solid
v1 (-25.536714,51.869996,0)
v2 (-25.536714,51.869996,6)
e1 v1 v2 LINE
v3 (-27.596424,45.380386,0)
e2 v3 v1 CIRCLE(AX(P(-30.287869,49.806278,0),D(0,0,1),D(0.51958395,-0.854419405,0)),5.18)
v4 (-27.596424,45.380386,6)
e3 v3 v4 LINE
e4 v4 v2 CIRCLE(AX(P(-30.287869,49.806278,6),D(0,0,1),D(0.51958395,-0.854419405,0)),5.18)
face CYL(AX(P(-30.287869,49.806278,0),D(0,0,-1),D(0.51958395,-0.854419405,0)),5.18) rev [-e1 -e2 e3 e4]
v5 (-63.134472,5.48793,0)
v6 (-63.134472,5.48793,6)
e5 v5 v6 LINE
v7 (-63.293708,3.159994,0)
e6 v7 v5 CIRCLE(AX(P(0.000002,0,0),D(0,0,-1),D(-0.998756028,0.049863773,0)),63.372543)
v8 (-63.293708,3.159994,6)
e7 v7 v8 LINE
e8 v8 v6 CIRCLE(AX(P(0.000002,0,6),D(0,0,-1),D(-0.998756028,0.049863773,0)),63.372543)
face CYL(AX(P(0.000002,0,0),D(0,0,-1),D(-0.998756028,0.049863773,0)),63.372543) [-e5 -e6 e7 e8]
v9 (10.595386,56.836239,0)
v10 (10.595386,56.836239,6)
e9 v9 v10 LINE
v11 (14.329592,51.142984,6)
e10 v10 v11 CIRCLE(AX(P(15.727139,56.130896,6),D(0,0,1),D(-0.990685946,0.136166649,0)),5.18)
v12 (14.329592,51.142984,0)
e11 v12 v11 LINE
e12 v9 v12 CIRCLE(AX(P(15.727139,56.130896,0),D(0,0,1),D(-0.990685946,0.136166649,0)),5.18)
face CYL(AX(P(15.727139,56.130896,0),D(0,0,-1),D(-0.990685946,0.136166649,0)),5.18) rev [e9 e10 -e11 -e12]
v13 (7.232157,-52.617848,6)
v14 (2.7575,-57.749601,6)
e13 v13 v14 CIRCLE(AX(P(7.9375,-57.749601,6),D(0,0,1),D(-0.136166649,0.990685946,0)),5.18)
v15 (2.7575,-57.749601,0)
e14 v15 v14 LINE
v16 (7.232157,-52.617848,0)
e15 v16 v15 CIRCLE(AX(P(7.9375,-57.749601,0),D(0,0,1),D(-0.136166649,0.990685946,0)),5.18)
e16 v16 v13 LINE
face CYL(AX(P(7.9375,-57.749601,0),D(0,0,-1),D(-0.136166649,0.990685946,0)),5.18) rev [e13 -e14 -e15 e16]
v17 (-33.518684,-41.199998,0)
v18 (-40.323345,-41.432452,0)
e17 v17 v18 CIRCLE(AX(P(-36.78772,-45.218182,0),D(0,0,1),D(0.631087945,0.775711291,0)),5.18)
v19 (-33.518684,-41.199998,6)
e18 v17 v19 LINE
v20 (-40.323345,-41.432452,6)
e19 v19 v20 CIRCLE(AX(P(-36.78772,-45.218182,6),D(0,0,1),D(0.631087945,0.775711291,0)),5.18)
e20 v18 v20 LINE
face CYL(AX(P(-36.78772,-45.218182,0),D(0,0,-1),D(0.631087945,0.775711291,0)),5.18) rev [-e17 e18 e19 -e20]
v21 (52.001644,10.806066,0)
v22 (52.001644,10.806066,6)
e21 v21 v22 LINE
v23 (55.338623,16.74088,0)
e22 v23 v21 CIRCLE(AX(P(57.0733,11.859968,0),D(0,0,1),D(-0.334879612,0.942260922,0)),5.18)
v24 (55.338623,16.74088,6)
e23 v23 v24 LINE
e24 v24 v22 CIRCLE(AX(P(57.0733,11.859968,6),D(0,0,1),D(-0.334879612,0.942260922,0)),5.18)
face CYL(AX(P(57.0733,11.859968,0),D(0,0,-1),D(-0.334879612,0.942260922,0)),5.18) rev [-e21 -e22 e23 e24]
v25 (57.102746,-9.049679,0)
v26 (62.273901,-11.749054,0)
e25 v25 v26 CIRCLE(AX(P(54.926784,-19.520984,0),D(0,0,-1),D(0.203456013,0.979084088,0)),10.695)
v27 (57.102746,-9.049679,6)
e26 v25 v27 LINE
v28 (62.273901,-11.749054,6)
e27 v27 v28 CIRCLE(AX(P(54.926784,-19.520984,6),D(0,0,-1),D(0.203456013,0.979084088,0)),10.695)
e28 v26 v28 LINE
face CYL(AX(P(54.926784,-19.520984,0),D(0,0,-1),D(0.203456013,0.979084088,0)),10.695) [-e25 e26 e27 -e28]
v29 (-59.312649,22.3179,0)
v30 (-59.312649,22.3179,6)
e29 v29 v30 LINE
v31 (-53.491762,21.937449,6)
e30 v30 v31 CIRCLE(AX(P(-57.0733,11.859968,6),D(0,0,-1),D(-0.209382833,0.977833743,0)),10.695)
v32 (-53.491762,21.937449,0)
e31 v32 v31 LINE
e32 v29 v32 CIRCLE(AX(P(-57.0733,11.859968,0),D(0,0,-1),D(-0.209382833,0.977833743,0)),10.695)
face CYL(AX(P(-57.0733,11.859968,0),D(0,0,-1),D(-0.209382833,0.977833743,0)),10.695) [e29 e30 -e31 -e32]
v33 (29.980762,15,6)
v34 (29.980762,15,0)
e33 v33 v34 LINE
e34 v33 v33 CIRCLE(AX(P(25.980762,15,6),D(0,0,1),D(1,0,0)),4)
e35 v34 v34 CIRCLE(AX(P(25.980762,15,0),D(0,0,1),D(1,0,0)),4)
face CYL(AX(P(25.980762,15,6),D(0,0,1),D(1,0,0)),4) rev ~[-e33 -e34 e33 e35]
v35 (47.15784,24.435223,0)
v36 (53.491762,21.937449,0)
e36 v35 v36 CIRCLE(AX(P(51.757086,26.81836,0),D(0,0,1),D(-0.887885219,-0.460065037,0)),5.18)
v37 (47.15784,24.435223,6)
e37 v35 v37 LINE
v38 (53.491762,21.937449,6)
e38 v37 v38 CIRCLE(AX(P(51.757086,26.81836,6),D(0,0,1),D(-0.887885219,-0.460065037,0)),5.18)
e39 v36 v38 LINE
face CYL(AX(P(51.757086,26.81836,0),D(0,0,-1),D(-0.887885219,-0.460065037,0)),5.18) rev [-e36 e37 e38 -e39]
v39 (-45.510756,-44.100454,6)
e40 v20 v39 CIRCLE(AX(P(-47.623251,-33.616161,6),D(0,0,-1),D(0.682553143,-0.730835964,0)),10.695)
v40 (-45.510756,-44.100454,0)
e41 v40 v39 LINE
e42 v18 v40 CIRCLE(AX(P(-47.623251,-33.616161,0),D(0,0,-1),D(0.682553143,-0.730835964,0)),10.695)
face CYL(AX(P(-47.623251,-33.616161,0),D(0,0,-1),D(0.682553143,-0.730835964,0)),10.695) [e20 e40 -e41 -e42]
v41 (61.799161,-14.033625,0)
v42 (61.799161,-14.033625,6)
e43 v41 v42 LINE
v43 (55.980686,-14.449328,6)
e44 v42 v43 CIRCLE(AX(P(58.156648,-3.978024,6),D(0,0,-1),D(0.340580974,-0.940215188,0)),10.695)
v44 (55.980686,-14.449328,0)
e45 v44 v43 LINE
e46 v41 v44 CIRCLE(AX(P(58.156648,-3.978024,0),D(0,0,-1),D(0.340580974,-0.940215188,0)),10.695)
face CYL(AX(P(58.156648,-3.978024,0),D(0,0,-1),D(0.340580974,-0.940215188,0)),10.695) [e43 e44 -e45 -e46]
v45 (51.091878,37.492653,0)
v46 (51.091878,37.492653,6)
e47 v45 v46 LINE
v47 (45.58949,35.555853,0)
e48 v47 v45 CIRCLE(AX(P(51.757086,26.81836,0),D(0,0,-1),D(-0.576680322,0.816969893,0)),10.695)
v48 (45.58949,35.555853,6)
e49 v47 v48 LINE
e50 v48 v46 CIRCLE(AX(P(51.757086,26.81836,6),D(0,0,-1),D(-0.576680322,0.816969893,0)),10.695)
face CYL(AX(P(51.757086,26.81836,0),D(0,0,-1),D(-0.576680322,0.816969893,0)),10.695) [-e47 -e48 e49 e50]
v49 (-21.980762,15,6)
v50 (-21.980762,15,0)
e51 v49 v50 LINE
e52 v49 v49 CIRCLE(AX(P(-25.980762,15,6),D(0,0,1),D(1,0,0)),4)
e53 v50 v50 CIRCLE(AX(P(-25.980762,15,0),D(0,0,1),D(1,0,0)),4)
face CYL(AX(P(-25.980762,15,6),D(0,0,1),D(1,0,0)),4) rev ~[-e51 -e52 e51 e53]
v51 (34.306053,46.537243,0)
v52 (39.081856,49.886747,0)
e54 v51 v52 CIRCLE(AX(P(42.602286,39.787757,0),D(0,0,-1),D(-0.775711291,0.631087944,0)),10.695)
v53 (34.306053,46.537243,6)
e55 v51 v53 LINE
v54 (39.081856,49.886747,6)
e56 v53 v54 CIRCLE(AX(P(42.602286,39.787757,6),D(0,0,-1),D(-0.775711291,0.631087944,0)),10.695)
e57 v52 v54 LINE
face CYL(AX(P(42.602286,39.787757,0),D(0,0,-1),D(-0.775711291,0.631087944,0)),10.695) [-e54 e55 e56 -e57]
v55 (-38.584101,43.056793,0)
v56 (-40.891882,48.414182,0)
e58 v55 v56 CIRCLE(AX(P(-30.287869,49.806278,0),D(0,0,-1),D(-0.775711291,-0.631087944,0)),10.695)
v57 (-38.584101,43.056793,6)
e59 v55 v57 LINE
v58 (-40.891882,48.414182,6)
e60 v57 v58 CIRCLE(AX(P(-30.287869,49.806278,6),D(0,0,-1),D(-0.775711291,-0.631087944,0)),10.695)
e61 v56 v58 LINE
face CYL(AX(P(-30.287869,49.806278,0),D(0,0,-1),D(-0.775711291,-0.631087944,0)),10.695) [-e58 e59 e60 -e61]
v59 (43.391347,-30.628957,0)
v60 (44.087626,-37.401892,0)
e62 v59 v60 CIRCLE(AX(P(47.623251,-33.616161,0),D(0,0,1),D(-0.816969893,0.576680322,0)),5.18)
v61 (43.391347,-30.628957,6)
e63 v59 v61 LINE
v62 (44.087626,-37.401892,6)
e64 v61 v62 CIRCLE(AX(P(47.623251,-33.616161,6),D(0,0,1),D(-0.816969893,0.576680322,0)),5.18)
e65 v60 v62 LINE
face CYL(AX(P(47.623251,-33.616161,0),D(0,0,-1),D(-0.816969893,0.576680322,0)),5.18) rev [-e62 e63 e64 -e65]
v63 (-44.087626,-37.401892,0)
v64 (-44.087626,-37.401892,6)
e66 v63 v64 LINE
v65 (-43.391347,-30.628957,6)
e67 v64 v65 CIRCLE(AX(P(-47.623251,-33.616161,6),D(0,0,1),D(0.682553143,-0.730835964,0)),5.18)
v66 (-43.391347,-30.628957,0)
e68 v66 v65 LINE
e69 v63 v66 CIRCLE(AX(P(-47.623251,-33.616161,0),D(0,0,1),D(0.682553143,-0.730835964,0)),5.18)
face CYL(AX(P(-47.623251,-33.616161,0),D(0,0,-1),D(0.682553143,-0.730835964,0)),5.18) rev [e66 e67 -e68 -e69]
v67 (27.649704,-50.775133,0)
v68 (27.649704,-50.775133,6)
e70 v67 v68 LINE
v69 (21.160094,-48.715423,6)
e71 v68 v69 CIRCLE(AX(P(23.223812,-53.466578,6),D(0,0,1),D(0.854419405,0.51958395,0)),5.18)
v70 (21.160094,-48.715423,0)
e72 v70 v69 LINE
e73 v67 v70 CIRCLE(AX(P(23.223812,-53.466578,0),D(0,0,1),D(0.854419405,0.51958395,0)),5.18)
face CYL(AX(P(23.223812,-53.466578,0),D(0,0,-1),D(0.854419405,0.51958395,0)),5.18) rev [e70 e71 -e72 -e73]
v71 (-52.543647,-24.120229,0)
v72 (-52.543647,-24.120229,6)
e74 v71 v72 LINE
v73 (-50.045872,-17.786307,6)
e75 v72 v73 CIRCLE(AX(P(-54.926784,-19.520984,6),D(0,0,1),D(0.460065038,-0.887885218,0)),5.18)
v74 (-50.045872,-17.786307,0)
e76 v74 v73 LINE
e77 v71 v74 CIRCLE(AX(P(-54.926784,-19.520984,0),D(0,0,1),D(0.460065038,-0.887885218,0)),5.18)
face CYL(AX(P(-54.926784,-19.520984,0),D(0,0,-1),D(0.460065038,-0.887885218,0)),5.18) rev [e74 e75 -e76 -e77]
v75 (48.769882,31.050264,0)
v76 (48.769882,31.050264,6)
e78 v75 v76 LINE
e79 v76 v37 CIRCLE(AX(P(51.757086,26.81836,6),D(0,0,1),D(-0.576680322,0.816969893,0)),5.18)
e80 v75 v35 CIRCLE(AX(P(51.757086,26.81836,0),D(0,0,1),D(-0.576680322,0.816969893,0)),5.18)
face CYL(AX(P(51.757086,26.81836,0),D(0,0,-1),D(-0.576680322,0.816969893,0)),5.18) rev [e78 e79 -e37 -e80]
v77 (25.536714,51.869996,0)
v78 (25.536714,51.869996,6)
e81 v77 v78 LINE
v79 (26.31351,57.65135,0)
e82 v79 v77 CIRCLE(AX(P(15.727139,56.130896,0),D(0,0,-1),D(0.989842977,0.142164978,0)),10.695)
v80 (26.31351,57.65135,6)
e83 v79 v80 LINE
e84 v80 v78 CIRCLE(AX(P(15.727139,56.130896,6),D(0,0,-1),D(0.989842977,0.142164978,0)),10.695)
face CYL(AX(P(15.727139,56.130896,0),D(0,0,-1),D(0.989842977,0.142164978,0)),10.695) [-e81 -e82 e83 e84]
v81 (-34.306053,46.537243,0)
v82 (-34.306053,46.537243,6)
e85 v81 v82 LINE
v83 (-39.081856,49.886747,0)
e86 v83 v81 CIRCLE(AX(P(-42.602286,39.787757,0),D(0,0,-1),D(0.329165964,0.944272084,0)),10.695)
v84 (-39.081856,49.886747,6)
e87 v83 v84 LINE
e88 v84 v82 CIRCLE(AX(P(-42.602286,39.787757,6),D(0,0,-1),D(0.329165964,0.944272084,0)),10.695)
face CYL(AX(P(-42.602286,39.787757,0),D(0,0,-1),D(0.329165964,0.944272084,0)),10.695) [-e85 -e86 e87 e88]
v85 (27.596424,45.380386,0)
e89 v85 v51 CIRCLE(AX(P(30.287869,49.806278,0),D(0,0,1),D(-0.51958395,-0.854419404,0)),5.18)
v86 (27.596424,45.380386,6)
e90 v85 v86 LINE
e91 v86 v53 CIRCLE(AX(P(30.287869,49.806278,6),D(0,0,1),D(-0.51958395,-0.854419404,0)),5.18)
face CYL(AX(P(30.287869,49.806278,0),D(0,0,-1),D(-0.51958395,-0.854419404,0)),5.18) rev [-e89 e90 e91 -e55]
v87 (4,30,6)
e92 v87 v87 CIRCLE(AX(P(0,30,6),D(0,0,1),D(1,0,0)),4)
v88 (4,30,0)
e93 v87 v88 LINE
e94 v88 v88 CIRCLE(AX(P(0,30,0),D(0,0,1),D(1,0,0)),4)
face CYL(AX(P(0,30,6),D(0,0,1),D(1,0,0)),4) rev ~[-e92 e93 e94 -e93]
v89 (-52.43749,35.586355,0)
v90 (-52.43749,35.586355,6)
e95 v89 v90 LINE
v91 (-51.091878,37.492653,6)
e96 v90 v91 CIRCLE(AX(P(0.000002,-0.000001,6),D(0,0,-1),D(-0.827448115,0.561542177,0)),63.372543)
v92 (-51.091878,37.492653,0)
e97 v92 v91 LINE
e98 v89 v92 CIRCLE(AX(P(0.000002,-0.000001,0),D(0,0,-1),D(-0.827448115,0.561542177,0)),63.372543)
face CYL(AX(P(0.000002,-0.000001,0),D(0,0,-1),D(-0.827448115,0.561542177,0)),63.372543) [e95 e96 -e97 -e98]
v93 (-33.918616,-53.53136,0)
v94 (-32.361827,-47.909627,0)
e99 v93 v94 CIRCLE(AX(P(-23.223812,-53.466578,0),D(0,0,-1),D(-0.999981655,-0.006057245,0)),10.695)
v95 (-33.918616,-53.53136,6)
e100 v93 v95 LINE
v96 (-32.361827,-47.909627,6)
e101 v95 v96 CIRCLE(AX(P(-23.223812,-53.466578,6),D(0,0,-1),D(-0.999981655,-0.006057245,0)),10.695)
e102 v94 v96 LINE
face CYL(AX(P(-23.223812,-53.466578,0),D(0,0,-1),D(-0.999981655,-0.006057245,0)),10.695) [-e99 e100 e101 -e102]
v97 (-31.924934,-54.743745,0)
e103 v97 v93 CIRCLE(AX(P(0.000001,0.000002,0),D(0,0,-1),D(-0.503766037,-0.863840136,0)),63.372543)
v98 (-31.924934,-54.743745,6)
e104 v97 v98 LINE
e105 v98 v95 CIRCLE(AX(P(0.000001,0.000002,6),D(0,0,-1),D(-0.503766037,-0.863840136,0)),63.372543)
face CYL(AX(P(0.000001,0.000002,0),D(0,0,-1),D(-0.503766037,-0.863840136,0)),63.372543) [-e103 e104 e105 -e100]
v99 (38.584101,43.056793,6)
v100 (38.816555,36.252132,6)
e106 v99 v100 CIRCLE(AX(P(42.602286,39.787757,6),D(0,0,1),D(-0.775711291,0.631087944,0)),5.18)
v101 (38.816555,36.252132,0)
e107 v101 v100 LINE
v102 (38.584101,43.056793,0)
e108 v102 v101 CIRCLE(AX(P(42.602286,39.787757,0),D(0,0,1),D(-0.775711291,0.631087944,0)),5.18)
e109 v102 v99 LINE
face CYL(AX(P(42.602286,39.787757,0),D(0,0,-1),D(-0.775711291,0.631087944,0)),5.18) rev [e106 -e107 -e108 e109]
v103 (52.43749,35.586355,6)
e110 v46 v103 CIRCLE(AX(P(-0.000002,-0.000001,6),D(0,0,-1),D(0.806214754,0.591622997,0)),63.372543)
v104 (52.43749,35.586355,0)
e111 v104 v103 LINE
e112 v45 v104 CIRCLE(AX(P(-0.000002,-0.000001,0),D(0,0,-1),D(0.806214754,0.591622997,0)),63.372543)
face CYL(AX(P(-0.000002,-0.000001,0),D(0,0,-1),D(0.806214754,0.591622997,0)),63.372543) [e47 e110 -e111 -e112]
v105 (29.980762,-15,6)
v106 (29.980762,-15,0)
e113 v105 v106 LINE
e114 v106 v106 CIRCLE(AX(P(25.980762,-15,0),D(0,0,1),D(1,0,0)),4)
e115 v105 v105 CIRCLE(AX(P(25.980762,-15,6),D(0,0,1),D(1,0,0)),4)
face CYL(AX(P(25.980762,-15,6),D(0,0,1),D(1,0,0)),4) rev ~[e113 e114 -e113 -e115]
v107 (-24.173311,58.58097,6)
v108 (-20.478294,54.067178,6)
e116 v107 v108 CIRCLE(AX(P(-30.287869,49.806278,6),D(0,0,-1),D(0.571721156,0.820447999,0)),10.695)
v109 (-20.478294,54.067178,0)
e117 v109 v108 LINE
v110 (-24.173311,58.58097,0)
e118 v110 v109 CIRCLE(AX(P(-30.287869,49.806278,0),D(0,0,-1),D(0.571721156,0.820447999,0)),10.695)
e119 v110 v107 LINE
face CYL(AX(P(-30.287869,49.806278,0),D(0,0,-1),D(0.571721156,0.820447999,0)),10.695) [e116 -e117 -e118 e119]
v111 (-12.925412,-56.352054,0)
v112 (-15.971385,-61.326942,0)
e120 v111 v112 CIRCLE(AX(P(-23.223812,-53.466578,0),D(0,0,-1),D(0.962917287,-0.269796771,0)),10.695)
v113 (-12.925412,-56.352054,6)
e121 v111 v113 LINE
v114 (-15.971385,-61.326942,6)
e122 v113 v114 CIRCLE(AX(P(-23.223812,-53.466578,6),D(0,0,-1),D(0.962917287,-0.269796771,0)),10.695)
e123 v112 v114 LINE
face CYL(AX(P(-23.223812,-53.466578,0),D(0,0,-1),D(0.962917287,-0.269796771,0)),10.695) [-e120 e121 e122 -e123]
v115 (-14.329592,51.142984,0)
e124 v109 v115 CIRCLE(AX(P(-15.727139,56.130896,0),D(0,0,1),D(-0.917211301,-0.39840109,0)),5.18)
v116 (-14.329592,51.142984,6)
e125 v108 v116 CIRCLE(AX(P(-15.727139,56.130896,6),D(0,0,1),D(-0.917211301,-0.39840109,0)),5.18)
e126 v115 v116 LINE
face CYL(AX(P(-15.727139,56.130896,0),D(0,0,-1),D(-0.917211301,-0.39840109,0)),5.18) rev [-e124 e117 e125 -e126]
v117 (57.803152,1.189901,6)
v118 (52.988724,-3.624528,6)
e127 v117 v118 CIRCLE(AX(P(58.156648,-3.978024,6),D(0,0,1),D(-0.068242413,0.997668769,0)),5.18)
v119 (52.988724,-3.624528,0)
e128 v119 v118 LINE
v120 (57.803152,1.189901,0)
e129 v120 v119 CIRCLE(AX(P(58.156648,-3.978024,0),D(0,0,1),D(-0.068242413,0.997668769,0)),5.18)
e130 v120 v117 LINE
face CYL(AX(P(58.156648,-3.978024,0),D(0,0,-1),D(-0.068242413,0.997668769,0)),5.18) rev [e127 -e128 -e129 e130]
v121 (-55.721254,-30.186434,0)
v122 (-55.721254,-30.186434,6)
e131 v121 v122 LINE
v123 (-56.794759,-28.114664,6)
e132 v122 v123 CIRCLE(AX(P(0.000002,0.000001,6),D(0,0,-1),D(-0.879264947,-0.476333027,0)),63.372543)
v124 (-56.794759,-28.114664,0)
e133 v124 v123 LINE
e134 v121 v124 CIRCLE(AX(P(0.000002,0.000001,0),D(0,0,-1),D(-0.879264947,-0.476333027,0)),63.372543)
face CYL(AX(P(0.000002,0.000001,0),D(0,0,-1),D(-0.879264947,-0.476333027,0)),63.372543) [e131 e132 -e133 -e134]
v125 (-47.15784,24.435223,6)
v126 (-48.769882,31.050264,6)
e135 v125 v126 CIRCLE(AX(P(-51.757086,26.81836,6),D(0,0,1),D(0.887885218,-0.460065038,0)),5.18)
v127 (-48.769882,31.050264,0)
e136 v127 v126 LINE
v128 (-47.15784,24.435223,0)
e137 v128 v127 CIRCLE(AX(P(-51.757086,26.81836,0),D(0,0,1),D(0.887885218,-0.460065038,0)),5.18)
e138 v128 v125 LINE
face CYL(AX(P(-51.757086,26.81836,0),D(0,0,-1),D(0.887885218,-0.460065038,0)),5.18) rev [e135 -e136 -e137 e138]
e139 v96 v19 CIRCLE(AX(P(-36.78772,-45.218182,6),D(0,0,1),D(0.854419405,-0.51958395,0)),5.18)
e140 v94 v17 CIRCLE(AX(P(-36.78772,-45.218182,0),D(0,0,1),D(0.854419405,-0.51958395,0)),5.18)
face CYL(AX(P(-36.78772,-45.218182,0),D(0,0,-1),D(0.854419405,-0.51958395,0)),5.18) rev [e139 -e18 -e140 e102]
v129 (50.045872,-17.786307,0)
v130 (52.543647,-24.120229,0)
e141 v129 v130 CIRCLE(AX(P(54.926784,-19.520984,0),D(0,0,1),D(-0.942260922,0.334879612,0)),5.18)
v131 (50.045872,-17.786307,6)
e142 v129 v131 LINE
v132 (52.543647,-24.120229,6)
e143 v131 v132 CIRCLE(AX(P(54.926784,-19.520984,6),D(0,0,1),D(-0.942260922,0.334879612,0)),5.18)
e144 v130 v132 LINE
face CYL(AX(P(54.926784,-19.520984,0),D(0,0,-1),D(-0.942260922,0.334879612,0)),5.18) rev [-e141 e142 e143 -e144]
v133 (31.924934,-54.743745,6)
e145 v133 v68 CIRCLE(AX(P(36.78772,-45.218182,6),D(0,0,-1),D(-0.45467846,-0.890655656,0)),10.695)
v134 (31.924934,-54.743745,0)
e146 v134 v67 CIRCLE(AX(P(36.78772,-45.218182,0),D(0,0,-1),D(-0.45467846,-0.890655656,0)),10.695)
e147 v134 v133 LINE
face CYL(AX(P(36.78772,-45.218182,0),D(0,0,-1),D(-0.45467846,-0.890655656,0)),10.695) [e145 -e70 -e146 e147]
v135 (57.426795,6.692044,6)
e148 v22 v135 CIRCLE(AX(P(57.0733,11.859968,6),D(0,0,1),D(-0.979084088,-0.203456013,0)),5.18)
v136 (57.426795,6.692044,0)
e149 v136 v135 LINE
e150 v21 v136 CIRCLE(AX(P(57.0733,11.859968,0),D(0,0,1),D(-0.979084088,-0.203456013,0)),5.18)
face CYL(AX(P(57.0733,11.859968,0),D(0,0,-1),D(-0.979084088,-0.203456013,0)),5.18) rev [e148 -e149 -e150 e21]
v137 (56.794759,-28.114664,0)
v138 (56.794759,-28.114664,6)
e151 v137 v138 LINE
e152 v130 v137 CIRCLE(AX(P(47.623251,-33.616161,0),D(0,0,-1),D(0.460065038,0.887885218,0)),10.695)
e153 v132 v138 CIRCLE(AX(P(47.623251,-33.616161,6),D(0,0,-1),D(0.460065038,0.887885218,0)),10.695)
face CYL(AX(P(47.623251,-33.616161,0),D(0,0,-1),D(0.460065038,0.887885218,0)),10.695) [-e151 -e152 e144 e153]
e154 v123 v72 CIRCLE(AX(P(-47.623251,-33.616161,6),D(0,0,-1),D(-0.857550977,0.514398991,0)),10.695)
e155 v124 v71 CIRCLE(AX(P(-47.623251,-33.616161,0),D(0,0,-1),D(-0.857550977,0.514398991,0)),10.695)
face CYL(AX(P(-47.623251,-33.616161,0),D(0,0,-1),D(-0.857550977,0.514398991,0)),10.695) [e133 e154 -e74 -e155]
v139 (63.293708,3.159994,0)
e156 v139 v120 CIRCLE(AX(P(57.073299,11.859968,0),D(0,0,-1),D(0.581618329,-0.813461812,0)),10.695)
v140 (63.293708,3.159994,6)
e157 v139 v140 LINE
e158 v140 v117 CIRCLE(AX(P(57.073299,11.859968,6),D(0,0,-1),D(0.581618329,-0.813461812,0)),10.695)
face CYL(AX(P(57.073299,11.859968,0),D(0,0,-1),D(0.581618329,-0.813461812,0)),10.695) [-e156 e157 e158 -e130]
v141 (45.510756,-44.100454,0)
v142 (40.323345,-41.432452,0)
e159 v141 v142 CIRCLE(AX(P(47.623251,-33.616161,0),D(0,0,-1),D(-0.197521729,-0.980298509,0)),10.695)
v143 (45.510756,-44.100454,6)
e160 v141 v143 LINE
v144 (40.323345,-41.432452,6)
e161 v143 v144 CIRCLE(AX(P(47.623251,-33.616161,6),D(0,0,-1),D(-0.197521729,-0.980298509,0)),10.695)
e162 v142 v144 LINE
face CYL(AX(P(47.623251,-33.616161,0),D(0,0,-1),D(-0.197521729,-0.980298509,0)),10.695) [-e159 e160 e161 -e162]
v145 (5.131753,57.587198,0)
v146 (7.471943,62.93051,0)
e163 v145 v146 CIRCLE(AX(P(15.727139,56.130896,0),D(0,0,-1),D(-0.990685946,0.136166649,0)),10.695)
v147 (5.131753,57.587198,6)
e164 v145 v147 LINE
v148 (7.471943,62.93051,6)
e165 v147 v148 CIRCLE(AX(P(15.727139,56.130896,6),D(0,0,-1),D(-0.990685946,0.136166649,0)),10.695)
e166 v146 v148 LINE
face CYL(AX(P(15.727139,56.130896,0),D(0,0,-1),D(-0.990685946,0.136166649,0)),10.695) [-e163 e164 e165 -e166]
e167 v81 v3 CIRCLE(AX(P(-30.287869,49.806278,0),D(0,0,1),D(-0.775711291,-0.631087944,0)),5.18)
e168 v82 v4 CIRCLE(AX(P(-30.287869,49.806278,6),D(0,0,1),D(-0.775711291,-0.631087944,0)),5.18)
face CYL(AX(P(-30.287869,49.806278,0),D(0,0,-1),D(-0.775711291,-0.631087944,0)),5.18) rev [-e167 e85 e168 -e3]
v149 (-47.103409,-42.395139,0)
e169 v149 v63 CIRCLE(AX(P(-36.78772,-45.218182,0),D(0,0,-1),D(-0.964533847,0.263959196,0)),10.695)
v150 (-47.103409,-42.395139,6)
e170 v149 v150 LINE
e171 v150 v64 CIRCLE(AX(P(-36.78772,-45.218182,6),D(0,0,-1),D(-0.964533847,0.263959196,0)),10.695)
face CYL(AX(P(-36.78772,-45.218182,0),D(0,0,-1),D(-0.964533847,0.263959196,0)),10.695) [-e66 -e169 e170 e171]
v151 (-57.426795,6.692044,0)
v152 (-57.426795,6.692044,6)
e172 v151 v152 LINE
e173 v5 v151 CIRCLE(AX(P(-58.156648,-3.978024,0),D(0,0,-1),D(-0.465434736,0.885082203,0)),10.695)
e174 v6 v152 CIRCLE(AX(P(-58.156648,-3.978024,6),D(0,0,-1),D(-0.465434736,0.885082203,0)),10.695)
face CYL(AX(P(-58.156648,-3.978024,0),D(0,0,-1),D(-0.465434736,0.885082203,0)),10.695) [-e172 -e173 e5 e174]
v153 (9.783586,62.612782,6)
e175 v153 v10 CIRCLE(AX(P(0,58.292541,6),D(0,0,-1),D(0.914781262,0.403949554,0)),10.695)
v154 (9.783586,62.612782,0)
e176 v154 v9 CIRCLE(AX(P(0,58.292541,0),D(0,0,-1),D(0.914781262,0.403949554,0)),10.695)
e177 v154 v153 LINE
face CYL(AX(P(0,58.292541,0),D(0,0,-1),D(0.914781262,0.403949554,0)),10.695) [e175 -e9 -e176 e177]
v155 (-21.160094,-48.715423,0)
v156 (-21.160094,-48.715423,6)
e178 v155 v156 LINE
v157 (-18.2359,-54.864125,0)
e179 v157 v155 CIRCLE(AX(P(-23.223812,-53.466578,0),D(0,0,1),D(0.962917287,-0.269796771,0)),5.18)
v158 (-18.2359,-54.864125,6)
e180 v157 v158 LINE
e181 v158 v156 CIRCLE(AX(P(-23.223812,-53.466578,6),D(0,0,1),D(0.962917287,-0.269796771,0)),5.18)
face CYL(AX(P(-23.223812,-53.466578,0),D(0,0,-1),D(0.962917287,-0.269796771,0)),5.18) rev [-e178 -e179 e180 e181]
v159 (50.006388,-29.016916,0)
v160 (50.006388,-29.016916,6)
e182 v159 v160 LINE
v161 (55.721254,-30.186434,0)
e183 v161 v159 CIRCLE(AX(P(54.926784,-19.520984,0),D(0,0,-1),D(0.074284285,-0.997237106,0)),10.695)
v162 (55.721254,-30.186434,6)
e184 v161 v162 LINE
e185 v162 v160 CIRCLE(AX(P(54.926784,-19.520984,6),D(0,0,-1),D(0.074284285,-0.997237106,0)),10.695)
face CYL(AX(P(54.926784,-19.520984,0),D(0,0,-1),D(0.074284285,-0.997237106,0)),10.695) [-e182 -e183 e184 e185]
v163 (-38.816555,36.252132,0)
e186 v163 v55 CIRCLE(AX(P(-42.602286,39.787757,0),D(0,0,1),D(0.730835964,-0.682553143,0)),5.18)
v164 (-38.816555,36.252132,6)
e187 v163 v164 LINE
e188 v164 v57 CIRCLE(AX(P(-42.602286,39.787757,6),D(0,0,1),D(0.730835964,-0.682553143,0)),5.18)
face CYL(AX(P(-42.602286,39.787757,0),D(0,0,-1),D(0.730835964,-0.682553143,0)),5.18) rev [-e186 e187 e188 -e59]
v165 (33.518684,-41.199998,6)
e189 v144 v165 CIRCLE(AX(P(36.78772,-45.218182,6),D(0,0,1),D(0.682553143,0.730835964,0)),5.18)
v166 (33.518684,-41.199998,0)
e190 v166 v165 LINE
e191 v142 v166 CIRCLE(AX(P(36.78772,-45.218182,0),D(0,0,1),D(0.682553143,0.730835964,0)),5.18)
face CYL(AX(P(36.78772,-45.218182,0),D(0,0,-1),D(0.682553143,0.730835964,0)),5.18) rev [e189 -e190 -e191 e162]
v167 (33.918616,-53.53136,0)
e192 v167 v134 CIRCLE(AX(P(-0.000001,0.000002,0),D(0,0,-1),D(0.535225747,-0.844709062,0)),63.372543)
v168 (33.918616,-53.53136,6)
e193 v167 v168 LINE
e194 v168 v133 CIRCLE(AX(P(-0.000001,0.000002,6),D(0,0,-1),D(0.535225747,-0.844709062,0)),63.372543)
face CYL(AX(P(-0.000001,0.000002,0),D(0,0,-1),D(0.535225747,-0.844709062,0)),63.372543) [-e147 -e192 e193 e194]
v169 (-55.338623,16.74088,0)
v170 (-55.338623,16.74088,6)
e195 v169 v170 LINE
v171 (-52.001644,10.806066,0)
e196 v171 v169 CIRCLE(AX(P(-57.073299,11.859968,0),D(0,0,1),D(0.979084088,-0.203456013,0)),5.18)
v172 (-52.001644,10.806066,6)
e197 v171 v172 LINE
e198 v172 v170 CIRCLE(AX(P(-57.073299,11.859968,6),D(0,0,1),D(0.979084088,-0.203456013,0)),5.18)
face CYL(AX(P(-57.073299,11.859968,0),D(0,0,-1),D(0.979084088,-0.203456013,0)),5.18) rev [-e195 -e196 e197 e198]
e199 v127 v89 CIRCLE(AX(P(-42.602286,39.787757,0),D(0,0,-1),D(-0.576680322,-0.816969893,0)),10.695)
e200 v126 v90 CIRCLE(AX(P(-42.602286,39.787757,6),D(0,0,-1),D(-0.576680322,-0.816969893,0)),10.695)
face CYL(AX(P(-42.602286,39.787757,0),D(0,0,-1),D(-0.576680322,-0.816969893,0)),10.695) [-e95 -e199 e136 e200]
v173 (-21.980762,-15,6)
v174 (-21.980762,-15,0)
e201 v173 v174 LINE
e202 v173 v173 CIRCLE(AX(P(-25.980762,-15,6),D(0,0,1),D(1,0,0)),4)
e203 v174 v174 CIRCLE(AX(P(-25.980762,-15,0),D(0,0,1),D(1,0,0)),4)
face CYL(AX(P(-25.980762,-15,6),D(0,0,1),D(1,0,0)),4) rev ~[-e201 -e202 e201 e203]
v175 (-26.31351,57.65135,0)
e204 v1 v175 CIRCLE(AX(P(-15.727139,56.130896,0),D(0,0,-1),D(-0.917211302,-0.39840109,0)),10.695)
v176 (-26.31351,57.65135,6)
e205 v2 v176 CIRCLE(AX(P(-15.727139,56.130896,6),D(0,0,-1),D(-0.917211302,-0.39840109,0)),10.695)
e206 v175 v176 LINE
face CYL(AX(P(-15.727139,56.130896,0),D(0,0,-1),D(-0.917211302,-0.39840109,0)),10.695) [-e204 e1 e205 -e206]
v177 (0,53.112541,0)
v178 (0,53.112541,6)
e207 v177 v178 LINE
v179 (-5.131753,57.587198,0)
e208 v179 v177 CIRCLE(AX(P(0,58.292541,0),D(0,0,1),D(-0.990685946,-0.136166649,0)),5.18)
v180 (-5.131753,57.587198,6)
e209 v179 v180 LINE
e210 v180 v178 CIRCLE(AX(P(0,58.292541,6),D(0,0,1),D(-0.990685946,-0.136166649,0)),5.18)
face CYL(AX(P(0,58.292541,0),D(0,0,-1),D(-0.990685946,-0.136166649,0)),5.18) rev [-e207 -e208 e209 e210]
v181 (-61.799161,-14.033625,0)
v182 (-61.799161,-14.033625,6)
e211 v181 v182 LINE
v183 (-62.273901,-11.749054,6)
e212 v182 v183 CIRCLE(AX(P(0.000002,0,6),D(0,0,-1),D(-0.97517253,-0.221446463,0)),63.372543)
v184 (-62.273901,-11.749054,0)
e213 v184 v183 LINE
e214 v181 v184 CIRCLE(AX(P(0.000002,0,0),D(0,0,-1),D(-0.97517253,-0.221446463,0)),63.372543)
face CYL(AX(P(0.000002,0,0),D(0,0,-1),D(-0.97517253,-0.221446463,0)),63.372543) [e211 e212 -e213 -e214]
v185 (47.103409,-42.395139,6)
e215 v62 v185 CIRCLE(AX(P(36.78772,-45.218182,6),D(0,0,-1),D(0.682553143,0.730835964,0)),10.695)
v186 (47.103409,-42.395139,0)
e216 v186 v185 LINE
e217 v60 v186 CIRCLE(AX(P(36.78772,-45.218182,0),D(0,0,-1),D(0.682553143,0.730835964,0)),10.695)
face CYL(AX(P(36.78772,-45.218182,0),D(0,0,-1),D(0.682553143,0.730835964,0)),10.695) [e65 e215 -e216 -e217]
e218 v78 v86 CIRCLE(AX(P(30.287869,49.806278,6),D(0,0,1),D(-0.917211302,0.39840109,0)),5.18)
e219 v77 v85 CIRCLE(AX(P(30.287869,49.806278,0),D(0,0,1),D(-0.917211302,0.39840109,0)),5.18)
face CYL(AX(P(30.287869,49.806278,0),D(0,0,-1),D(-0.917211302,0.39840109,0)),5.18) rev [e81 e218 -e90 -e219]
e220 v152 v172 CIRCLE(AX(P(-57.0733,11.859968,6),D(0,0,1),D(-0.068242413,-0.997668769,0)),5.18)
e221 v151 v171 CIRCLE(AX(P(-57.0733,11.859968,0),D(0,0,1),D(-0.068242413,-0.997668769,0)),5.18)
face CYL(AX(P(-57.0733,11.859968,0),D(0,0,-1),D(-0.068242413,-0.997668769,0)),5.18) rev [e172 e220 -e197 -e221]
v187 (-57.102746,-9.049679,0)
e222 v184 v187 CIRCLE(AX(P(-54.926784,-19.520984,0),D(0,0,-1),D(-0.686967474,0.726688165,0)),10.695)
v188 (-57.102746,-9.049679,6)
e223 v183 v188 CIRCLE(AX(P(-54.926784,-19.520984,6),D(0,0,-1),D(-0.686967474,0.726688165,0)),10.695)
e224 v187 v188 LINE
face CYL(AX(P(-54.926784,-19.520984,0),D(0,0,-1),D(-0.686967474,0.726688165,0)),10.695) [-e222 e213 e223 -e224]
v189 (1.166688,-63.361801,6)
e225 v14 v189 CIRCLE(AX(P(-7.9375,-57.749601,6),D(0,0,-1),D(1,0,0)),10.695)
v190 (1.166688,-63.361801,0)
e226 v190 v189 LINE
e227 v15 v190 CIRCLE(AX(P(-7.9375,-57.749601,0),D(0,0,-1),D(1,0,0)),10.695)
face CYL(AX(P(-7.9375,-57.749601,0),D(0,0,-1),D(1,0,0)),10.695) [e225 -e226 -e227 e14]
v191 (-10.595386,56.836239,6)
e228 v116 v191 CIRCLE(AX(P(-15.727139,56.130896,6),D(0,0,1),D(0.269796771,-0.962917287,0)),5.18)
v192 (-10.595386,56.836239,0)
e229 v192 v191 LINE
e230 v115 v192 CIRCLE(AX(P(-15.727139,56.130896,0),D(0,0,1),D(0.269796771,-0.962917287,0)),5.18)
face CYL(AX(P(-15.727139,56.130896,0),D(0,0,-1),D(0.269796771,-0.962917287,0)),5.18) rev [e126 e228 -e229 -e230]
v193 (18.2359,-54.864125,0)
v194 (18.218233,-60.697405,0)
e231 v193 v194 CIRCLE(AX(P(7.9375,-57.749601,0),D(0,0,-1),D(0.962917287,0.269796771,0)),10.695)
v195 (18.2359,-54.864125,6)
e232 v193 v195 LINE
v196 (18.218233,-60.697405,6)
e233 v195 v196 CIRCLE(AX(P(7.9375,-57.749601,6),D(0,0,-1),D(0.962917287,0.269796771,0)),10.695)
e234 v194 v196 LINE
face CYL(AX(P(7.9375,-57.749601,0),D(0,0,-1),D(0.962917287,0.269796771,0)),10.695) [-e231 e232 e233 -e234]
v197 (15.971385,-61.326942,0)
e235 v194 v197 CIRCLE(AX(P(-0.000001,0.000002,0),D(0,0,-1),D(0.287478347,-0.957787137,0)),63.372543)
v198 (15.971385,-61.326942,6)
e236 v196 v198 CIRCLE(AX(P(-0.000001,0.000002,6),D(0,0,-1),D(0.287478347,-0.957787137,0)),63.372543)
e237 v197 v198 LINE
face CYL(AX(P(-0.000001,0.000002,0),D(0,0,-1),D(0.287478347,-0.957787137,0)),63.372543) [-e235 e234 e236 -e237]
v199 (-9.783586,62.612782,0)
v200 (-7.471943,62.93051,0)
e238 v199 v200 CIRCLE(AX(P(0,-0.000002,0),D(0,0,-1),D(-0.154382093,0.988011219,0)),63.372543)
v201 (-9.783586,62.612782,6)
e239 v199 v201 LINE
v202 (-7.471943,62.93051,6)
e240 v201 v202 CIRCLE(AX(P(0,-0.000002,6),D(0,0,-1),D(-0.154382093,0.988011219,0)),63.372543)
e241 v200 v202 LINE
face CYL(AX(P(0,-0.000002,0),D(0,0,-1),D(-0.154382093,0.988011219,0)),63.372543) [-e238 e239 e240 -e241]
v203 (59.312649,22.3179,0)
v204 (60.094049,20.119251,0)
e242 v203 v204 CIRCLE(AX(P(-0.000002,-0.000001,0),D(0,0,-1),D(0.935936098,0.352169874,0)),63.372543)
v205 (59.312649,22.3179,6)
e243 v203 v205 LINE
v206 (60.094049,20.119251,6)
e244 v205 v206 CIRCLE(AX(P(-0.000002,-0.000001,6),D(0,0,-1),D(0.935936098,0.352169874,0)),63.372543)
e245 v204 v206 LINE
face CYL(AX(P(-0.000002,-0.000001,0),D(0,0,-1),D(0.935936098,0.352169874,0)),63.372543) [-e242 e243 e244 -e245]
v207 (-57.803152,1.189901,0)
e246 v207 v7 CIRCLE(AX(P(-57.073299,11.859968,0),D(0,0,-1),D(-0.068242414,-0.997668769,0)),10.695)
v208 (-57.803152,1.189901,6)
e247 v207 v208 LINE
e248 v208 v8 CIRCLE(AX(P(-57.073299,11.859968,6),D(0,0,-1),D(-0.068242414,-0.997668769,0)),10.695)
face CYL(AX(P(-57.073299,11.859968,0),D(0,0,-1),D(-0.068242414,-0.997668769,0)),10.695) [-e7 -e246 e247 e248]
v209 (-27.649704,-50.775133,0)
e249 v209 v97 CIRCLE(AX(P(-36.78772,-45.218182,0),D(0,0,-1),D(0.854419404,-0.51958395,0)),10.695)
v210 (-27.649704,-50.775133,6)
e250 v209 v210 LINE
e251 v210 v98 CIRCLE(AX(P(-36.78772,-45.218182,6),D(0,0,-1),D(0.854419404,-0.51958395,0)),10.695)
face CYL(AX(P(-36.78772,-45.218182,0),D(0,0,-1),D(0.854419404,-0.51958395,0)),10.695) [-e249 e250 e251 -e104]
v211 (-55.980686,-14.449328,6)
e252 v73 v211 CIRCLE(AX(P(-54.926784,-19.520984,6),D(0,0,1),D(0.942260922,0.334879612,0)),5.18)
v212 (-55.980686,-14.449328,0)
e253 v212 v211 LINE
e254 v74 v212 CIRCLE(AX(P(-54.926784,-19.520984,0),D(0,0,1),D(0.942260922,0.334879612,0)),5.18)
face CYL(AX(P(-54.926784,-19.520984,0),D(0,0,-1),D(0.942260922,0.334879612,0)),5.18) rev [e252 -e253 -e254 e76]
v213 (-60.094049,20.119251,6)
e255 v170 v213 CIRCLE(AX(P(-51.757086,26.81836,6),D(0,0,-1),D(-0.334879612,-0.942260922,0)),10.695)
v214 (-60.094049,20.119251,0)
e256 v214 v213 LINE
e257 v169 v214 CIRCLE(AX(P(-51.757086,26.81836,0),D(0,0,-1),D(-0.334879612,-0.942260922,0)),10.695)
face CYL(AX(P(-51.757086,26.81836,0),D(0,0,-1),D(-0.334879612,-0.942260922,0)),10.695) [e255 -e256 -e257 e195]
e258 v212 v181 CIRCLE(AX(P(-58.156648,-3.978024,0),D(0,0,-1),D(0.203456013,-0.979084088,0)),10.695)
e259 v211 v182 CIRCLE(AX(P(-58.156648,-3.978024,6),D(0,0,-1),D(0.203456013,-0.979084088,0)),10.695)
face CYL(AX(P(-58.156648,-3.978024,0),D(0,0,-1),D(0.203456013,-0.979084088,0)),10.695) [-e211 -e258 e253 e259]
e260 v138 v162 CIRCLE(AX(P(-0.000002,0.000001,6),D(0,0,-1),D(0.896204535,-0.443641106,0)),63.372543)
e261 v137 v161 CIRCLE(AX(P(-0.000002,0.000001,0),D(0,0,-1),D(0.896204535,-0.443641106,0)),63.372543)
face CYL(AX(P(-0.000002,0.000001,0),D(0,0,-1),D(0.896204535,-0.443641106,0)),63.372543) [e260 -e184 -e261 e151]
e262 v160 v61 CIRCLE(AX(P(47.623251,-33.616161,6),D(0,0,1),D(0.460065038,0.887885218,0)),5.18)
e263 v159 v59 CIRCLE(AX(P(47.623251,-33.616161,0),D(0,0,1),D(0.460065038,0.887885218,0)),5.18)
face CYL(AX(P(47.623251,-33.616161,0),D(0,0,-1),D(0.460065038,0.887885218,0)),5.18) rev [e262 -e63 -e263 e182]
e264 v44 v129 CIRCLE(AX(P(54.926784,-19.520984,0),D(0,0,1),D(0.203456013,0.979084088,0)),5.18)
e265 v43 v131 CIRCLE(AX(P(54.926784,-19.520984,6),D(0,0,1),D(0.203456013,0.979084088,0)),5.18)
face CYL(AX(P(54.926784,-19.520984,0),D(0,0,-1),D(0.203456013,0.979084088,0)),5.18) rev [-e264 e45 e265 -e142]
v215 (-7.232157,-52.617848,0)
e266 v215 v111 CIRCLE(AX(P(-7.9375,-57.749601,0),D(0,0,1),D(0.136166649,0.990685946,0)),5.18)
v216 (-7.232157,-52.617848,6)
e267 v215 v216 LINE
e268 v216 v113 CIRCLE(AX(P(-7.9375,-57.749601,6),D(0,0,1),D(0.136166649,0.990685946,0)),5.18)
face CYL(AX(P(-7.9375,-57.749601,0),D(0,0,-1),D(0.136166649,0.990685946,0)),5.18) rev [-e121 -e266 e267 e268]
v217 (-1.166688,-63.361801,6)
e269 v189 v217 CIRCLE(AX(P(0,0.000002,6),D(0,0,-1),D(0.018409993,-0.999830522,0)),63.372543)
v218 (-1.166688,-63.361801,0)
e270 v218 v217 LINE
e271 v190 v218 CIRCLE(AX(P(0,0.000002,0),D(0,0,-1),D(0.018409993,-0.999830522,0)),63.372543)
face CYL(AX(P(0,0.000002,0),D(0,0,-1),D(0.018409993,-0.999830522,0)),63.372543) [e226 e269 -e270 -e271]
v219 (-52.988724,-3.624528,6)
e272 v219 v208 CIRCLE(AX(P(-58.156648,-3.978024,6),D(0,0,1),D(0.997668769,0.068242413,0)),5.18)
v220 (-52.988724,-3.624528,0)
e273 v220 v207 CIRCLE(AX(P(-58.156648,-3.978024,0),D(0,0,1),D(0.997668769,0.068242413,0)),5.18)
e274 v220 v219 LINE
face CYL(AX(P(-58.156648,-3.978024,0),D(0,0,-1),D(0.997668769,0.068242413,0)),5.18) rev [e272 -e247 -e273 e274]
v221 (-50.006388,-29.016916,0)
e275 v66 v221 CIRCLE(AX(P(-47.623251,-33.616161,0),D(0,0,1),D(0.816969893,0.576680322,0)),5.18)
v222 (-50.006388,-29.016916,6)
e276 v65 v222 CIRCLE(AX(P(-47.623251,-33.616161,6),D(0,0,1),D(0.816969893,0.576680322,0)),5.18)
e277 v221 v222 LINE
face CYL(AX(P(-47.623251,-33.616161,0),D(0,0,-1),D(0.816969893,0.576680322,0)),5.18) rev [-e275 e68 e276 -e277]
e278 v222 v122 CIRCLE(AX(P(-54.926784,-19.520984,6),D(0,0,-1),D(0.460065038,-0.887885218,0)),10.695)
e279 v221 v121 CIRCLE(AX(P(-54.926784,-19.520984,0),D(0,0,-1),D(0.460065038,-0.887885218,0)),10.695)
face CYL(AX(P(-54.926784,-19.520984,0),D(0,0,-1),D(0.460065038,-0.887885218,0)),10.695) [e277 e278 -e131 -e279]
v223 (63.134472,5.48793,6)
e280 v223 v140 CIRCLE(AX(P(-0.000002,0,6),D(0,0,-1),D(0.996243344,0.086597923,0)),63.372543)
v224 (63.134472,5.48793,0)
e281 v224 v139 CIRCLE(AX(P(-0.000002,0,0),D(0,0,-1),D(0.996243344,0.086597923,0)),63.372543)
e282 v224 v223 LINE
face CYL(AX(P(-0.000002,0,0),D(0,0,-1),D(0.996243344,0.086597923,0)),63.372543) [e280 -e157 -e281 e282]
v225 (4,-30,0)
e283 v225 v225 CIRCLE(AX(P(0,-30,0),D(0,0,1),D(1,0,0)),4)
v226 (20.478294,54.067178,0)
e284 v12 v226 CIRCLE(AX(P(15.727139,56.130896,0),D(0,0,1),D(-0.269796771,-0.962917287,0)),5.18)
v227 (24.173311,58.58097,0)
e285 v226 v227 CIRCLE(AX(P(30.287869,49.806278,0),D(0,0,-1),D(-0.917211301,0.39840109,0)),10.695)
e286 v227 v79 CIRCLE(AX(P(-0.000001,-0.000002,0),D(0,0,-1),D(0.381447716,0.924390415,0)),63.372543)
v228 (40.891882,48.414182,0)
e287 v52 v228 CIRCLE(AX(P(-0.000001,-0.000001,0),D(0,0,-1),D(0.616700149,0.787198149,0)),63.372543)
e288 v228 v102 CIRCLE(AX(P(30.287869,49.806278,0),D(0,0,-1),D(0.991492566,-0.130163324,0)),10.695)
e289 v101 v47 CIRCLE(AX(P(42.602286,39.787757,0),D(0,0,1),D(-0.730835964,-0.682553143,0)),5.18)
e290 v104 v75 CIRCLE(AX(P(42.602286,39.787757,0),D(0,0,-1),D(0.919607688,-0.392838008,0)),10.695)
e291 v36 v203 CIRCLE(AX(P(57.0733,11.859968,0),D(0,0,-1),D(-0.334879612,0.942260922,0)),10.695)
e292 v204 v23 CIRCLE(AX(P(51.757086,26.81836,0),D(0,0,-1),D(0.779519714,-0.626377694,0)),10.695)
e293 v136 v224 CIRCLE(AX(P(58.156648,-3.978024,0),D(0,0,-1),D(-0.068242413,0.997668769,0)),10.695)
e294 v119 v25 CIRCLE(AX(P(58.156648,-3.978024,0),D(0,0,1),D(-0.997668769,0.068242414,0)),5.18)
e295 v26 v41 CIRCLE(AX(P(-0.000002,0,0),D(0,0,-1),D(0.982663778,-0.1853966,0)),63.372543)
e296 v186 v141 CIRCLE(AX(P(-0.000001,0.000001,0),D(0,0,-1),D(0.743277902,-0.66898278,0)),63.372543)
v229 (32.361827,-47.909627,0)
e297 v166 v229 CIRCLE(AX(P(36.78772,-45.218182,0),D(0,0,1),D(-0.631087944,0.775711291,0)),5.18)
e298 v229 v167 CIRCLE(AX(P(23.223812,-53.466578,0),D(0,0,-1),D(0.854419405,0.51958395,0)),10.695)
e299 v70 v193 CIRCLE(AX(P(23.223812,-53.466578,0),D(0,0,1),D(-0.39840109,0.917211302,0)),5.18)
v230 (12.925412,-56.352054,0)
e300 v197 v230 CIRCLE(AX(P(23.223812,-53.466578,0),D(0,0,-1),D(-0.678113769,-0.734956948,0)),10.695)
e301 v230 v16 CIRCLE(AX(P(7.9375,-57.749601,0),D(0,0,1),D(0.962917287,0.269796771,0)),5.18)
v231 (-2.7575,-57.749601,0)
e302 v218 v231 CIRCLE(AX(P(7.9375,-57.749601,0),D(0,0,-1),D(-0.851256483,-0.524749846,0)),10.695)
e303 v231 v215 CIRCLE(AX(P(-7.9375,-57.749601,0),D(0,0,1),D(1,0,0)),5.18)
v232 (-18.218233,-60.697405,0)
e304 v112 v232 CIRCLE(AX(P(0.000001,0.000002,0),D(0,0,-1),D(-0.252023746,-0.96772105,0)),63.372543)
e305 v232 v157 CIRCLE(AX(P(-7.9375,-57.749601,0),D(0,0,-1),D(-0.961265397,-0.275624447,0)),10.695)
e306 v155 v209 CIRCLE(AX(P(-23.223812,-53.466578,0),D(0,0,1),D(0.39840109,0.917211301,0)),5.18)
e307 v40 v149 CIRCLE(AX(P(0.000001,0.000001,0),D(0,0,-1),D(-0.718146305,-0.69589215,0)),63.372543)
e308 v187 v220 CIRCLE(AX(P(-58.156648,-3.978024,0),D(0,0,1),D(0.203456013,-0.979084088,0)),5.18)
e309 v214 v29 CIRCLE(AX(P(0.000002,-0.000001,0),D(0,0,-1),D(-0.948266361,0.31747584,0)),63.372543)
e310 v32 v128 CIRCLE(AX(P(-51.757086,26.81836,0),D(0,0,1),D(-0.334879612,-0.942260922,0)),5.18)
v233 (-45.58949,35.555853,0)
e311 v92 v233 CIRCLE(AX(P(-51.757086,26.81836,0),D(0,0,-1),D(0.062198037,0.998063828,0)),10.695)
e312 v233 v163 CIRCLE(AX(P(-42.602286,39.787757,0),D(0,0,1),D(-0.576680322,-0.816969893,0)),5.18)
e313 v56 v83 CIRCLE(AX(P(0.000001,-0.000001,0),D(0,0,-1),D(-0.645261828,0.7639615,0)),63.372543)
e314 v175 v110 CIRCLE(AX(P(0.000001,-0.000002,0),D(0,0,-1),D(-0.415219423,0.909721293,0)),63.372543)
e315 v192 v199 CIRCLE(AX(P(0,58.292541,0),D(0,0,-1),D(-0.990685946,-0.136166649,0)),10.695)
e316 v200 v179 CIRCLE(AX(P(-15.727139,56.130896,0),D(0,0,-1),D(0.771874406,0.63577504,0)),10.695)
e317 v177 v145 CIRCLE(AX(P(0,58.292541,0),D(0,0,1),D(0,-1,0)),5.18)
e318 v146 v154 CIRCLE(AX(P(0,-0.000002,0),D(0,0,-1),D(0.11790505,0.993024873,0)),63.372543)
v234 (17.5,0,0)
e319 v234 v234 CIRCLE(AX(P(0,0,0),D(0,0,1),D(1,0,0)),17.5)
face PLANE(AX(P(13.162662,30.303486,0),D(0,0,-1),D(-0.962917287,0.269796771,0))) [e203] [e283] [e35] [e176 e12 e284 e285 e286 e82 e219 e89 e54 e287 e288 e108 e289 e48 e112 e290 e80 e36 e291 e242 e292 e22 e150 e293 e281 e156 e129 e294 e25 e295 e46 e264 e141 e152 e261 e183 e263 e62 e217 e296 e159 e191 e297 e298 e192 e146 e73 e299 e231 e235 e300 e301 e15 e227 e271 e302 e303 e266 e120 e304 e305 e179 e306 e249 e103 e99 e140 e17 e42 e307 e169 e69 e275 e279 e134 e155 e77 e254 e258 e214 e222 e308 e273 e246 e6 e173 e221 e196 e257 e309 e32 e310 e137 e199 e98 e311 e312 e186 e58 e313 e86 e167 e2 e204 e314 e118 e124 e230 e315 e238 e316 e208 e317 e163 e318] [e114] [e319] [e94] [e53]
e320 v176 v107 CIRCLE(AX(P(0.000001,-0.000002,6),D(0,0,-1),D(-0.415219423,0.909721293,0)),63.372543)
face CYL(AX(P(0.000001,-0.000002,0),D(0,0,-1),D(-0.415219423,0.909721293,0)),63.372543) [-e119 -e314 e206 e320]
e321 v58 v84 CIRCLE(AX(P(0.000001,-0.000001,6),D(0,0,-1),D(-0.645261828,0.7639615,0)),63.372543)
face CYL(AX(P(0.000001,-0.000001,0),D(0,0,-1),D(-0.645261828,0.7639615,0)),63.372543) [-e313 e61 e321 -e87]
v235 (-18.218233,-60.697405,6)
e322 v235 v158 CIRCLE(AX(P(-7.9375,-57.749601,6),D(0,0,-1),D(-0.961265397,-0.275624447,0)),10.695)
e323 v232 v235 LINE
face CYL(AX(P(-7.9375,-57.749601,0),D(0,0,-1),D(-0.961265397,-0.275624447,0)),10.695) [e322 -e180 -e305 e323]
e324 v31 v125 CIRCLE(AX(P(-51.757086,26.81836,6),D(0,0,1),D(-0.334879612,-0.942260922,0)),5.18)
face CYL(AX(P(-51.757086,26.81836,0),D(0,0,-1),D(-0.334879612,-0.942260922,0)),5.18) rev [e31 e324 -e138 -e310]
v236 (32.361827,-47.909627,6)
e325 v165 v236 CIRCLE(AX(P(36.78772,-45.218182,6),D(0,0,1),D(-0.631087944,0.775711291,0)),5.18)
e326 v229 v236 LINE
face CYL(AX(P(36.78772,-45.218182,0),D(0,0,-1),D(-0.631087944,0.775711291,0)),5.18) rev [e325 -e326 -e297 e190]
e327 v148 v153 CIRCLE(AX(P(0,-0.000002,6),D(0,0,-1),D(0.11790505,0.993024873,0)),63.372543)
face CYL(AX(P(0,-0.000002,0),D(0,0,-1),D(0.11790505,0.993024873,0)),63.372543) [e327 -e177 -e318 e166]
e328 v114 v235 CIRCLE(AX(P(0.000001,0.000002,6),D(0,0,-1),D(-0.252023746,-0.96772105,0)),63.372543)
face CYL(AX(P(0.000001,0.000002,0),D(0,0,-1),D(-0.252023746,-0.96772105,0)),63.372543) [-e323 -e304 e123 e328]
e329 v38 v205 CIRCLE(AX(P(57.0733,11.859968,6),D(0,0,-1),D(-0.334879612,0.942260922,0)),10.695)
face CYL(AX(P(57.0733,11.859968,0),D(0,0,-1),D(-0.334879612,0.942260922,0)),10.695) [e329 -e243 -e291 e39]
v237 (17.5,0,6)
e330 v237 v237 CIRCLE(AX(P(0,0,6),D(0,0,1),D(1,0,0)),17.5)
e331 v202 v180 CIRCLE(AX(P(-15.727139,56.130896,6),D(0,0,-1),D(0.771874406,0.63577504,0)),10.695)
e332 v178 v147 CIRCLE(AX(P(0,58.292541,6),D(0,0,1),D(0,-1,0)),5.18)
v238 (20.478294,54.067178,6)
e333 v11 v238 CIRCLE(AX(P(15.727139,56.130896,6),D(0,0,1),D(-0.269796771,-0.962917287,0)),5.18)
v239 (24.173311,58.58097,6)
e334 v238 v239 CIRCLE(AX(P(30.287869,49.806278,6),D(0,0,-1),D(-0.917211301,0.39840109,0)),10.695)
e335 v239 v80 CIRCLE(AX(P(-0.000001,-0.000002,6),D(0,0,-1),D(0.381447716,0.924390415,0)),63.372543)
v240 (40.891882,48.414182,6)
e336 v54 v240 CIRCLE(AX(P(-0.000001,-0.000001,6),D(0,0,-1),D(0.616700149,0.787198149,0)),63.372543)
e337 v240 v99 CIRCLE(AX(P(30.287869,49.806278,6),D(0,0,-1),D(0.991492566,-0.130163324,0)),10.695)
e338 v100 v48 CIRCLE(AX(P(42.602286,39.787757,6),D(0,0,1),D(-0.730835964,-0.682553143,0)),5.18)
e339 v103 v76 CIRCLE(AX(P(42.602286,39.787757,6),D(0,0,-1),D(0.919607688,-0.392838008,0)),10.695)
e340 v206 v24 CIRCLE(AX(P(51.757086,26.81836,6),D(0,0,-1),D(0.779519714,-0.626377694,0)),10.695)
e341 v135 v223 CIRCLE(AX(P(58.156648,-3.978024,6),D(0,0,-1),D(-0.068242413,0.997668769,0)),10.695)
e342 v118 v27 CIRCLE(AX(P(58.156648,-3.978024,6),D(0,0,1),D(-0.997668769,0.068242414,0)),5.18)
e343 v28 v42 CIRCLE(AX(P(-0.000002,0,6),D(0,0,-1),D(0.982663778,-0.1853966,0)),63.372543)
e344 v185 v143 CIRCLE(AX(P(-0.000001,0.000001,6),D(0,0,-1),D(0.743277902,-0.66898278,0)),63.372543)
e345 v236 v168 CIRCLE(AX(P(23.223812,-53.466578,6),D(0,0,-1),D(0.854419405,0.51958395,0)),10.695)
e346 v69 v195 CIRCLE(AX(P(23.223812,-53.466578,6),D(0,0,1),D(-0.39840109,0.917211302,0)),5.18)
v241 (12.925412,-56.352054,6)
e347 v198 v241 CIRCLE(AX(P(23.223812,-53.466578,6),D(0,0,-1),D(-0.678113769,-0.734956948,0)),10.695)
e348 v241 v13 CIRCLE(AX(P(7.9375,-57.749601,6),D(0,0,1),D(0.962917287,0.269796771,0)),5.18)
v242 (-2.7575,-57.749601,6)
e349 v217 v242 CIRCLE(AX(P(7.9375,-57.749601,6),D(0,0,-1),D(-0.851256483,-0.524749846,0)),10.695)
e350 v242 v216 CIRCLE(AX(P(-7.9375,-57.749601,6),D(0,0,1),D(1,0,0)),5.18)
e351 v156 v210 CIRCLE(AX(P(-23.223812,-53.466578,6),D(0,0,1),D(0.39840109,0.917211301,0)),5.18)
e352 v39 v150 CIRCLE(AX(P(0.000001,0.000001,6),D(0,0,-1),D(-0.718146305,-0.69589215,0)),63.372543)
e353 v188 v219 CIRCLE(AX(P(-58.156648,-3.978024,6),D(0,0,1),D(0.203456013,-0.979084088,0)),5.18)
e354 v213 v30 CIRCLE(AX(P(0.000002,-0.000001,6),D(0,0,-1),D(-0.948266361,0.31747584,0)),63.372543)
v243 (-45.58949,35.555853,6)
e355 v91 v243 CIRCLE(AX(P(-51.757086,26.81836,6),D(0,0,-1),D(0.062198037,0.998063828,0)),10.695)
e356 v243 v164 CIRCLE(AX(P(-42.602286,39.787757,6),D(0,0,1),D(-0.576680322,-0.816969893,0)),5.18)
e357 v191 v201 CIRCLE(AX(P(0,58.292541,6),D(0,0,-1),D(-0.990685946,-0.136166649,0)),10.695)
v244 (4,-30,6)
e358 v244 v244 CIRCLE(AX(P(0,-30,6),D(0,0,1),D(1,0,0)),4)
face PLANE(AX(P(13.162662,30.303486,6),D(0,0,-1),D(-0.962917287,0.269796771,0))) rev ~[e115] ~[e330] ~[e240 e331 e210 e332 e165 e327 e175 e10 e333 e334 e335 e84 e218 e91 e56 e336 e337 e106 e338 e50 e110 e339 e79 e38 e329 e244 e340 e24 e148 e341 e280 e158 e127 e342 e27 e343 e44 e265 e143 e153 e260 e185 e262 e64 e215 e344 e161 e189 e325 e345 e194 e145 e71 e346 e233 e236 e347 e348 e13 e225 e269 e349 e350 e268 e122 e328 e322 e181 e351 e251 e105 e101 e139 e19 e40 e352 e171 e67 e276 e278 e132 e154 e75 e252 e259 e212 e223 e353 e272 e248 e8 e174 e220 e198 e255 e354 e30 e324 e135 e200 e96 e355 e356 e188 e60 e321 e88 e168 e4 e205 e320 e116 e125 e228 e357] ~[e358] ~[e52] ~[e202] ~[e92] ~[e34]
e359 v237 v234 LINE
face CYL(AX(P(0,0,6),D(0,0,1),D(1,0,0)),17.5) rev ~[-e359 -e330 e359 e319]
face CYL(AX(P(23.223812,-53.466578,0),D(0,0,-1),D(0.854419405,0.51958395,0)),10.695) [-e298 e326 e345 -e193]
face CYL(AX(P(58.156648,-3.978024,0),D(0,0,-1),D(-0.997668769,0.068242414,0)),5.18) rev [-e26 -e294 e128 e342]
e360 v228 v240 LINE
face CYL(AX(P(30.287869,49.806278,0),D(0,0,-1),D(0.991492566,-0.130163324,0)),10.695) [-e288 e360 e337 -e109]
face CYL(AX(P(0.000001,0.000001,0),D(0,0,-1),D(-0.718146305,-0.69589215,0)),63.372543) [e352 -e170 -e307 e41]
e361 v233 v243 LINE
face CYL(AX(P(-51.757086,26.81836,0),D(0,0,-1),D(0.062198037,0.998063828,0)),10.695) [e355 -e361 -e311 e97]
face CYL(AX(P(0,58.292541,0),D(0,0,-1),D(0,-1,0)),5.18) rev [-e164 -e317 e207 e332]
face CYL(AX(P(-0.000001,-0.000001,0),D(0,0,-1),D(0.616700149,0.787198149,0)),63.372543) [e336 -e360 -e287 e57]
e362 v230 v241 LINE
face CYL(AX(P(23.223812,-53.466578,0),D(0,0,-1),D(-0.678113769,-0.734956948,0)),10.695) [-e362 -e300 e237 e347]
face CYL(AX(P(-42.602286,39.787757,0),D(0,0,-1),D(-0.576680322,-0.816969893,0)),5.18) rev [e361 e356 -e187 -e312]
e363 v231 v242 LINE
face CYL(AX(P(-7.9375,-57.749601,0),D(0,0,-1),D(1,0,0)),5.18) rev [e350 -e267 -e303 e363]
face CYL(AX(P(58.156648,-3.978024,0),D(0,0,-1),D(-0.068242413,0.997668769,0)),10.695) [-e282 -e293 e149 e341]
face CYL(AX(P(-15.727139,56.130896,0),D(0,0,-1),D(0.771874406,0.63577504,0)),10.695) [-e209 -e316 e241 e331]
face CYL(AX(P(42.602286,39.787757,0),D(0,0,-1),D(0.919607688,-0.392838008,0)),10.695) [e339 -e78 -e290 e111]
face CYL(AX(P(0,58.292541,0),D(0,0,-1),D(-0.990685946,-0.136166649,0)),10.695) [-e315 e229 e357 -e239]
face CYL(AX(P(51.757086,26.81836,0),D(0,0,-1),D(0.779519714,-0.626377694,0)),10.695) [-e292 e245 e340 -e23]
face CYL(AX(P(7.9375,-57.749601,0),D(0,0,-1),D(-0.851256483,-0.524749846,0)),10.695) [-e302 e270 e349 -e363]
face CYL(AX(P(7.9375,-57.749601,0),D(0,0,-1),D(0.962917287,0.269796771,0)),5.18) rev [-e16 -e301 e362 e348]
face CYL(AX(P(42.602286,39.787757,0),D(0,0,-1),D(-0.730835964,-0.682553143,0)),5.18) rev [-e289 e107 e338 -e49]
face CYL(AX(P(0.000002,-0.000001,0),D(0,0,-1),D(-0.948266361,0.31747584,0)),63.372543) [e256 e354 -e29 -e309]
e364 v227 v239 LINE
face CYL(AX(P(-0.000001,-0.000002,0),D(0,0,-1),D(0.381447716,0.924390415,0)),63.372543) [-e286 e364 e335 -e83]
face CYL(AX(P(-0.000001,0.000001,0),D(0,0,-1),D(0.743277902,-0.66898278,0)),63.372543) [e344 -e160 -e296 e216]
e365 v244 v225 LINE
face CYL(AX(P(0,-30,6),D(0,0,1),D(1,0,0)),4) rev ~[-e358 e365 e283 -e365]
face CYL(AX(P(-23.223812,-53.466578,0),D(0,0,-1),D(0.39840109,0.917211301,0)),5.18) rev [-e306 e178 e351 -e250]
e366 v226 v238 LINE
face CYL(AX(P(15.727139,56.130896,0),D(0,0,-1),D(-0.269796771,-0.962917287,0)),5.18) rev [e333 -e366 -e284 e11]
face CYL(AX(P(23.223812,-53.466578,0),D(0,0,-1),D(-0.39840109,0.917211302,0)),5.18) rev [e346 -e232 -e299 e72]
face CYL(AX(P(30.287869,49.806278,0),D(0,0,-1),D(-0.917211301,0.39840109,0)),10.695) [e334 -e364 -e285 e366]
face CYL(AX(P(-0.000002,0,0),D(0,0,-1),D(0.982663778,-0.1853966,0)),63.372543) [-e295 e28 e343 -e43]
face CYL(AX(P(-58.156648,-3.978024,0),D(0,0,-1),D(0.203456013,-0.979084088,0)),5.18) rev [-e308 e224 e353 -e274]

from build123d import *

# Parameters (mm, degrees)
EXTRUDE_1_DEPTH          = 6
PATTERN_CIRCULAR_1_COUNT = 23
SKETCH_3_R               = 17.5
SKETCH_3_R_2             = 4
CUT_EXTRUDE_1_DEPTH      = 7


with BuildPart() as part:
    # Эскиз2 → Бобышка-Вытянуть1 (new body)
    with BuildSketch(Plane.XY):
        with BuildLine():
            Line((0, 0), (0, 53.112541182))
            ThreePointArc((0, 53.112541182), (3.404315056, 54.38830771), (5.1317532, 57.587197939))
            ThreePointArc((5.1317532, 57.587197939), (5.93051423, 60.421485378), (7.471942626, 62.930509685))
            ThreePointArc((7.471942626, 62.930509685), (8.629226577, 62.782285913), (9.783585596, 62.612781672))
            ThreePointArc((9.783585596, 62.612781672), (10.590926988, 59.780926389), (10.595386193, 56.836238869))
            ThreePointArc((10.595386193, 56.836238869), (11.39571599, 53.289914934), (14.329592119, 51.142984079))
            Line((14.329592119, 51.142984079), (0, 0))
        make_face()
    extrude_1 = extrude(amount=EXTRUDE_1_DEPTH)

    # Круговой массив1: Бобышка-Вытянуть1 ×23 about axis
    pattern_circular_1_axis = Axis((0, 0, 0), (0, 0, 1))
    for i in range(1, PATTERN_CIRCULAR_1_COUNT):
        add(extrude_1.rotate(pattern_circular_1_axis, i * 360 / PATTERN_CIRCULAR_1_COUNT))

    # Эскиз3 → Вырез-Вытянуть1 (cut, through all)
    with BuildSketch(Plane.XY.offset(6)):
        Circle(SKETCH_3_R)
        with Locations((0, 30)):
            Circle(SKETCH_3_R_2)
        with Locations((25.980762114, 15)):
            Circle(SKETCH_3_R_2)
        with Locations((25.980762114, -15)):
            Circle(SKETCH_3_R_2)
        with Locations((0, -30)):
            Circle(SKETCH_3_R_2)
        with Locations((-25.980762114, -15)):
            Circle(SKETCH_3_R_2)
        with Locations((-25.980762114, 15)):
            Circle(SKETCH_3_R_2)
    extrude(amount=-CUT_EXTRUDE_1_DEPTH, mode=Mode.SUBTRACT)


solid = part.part
